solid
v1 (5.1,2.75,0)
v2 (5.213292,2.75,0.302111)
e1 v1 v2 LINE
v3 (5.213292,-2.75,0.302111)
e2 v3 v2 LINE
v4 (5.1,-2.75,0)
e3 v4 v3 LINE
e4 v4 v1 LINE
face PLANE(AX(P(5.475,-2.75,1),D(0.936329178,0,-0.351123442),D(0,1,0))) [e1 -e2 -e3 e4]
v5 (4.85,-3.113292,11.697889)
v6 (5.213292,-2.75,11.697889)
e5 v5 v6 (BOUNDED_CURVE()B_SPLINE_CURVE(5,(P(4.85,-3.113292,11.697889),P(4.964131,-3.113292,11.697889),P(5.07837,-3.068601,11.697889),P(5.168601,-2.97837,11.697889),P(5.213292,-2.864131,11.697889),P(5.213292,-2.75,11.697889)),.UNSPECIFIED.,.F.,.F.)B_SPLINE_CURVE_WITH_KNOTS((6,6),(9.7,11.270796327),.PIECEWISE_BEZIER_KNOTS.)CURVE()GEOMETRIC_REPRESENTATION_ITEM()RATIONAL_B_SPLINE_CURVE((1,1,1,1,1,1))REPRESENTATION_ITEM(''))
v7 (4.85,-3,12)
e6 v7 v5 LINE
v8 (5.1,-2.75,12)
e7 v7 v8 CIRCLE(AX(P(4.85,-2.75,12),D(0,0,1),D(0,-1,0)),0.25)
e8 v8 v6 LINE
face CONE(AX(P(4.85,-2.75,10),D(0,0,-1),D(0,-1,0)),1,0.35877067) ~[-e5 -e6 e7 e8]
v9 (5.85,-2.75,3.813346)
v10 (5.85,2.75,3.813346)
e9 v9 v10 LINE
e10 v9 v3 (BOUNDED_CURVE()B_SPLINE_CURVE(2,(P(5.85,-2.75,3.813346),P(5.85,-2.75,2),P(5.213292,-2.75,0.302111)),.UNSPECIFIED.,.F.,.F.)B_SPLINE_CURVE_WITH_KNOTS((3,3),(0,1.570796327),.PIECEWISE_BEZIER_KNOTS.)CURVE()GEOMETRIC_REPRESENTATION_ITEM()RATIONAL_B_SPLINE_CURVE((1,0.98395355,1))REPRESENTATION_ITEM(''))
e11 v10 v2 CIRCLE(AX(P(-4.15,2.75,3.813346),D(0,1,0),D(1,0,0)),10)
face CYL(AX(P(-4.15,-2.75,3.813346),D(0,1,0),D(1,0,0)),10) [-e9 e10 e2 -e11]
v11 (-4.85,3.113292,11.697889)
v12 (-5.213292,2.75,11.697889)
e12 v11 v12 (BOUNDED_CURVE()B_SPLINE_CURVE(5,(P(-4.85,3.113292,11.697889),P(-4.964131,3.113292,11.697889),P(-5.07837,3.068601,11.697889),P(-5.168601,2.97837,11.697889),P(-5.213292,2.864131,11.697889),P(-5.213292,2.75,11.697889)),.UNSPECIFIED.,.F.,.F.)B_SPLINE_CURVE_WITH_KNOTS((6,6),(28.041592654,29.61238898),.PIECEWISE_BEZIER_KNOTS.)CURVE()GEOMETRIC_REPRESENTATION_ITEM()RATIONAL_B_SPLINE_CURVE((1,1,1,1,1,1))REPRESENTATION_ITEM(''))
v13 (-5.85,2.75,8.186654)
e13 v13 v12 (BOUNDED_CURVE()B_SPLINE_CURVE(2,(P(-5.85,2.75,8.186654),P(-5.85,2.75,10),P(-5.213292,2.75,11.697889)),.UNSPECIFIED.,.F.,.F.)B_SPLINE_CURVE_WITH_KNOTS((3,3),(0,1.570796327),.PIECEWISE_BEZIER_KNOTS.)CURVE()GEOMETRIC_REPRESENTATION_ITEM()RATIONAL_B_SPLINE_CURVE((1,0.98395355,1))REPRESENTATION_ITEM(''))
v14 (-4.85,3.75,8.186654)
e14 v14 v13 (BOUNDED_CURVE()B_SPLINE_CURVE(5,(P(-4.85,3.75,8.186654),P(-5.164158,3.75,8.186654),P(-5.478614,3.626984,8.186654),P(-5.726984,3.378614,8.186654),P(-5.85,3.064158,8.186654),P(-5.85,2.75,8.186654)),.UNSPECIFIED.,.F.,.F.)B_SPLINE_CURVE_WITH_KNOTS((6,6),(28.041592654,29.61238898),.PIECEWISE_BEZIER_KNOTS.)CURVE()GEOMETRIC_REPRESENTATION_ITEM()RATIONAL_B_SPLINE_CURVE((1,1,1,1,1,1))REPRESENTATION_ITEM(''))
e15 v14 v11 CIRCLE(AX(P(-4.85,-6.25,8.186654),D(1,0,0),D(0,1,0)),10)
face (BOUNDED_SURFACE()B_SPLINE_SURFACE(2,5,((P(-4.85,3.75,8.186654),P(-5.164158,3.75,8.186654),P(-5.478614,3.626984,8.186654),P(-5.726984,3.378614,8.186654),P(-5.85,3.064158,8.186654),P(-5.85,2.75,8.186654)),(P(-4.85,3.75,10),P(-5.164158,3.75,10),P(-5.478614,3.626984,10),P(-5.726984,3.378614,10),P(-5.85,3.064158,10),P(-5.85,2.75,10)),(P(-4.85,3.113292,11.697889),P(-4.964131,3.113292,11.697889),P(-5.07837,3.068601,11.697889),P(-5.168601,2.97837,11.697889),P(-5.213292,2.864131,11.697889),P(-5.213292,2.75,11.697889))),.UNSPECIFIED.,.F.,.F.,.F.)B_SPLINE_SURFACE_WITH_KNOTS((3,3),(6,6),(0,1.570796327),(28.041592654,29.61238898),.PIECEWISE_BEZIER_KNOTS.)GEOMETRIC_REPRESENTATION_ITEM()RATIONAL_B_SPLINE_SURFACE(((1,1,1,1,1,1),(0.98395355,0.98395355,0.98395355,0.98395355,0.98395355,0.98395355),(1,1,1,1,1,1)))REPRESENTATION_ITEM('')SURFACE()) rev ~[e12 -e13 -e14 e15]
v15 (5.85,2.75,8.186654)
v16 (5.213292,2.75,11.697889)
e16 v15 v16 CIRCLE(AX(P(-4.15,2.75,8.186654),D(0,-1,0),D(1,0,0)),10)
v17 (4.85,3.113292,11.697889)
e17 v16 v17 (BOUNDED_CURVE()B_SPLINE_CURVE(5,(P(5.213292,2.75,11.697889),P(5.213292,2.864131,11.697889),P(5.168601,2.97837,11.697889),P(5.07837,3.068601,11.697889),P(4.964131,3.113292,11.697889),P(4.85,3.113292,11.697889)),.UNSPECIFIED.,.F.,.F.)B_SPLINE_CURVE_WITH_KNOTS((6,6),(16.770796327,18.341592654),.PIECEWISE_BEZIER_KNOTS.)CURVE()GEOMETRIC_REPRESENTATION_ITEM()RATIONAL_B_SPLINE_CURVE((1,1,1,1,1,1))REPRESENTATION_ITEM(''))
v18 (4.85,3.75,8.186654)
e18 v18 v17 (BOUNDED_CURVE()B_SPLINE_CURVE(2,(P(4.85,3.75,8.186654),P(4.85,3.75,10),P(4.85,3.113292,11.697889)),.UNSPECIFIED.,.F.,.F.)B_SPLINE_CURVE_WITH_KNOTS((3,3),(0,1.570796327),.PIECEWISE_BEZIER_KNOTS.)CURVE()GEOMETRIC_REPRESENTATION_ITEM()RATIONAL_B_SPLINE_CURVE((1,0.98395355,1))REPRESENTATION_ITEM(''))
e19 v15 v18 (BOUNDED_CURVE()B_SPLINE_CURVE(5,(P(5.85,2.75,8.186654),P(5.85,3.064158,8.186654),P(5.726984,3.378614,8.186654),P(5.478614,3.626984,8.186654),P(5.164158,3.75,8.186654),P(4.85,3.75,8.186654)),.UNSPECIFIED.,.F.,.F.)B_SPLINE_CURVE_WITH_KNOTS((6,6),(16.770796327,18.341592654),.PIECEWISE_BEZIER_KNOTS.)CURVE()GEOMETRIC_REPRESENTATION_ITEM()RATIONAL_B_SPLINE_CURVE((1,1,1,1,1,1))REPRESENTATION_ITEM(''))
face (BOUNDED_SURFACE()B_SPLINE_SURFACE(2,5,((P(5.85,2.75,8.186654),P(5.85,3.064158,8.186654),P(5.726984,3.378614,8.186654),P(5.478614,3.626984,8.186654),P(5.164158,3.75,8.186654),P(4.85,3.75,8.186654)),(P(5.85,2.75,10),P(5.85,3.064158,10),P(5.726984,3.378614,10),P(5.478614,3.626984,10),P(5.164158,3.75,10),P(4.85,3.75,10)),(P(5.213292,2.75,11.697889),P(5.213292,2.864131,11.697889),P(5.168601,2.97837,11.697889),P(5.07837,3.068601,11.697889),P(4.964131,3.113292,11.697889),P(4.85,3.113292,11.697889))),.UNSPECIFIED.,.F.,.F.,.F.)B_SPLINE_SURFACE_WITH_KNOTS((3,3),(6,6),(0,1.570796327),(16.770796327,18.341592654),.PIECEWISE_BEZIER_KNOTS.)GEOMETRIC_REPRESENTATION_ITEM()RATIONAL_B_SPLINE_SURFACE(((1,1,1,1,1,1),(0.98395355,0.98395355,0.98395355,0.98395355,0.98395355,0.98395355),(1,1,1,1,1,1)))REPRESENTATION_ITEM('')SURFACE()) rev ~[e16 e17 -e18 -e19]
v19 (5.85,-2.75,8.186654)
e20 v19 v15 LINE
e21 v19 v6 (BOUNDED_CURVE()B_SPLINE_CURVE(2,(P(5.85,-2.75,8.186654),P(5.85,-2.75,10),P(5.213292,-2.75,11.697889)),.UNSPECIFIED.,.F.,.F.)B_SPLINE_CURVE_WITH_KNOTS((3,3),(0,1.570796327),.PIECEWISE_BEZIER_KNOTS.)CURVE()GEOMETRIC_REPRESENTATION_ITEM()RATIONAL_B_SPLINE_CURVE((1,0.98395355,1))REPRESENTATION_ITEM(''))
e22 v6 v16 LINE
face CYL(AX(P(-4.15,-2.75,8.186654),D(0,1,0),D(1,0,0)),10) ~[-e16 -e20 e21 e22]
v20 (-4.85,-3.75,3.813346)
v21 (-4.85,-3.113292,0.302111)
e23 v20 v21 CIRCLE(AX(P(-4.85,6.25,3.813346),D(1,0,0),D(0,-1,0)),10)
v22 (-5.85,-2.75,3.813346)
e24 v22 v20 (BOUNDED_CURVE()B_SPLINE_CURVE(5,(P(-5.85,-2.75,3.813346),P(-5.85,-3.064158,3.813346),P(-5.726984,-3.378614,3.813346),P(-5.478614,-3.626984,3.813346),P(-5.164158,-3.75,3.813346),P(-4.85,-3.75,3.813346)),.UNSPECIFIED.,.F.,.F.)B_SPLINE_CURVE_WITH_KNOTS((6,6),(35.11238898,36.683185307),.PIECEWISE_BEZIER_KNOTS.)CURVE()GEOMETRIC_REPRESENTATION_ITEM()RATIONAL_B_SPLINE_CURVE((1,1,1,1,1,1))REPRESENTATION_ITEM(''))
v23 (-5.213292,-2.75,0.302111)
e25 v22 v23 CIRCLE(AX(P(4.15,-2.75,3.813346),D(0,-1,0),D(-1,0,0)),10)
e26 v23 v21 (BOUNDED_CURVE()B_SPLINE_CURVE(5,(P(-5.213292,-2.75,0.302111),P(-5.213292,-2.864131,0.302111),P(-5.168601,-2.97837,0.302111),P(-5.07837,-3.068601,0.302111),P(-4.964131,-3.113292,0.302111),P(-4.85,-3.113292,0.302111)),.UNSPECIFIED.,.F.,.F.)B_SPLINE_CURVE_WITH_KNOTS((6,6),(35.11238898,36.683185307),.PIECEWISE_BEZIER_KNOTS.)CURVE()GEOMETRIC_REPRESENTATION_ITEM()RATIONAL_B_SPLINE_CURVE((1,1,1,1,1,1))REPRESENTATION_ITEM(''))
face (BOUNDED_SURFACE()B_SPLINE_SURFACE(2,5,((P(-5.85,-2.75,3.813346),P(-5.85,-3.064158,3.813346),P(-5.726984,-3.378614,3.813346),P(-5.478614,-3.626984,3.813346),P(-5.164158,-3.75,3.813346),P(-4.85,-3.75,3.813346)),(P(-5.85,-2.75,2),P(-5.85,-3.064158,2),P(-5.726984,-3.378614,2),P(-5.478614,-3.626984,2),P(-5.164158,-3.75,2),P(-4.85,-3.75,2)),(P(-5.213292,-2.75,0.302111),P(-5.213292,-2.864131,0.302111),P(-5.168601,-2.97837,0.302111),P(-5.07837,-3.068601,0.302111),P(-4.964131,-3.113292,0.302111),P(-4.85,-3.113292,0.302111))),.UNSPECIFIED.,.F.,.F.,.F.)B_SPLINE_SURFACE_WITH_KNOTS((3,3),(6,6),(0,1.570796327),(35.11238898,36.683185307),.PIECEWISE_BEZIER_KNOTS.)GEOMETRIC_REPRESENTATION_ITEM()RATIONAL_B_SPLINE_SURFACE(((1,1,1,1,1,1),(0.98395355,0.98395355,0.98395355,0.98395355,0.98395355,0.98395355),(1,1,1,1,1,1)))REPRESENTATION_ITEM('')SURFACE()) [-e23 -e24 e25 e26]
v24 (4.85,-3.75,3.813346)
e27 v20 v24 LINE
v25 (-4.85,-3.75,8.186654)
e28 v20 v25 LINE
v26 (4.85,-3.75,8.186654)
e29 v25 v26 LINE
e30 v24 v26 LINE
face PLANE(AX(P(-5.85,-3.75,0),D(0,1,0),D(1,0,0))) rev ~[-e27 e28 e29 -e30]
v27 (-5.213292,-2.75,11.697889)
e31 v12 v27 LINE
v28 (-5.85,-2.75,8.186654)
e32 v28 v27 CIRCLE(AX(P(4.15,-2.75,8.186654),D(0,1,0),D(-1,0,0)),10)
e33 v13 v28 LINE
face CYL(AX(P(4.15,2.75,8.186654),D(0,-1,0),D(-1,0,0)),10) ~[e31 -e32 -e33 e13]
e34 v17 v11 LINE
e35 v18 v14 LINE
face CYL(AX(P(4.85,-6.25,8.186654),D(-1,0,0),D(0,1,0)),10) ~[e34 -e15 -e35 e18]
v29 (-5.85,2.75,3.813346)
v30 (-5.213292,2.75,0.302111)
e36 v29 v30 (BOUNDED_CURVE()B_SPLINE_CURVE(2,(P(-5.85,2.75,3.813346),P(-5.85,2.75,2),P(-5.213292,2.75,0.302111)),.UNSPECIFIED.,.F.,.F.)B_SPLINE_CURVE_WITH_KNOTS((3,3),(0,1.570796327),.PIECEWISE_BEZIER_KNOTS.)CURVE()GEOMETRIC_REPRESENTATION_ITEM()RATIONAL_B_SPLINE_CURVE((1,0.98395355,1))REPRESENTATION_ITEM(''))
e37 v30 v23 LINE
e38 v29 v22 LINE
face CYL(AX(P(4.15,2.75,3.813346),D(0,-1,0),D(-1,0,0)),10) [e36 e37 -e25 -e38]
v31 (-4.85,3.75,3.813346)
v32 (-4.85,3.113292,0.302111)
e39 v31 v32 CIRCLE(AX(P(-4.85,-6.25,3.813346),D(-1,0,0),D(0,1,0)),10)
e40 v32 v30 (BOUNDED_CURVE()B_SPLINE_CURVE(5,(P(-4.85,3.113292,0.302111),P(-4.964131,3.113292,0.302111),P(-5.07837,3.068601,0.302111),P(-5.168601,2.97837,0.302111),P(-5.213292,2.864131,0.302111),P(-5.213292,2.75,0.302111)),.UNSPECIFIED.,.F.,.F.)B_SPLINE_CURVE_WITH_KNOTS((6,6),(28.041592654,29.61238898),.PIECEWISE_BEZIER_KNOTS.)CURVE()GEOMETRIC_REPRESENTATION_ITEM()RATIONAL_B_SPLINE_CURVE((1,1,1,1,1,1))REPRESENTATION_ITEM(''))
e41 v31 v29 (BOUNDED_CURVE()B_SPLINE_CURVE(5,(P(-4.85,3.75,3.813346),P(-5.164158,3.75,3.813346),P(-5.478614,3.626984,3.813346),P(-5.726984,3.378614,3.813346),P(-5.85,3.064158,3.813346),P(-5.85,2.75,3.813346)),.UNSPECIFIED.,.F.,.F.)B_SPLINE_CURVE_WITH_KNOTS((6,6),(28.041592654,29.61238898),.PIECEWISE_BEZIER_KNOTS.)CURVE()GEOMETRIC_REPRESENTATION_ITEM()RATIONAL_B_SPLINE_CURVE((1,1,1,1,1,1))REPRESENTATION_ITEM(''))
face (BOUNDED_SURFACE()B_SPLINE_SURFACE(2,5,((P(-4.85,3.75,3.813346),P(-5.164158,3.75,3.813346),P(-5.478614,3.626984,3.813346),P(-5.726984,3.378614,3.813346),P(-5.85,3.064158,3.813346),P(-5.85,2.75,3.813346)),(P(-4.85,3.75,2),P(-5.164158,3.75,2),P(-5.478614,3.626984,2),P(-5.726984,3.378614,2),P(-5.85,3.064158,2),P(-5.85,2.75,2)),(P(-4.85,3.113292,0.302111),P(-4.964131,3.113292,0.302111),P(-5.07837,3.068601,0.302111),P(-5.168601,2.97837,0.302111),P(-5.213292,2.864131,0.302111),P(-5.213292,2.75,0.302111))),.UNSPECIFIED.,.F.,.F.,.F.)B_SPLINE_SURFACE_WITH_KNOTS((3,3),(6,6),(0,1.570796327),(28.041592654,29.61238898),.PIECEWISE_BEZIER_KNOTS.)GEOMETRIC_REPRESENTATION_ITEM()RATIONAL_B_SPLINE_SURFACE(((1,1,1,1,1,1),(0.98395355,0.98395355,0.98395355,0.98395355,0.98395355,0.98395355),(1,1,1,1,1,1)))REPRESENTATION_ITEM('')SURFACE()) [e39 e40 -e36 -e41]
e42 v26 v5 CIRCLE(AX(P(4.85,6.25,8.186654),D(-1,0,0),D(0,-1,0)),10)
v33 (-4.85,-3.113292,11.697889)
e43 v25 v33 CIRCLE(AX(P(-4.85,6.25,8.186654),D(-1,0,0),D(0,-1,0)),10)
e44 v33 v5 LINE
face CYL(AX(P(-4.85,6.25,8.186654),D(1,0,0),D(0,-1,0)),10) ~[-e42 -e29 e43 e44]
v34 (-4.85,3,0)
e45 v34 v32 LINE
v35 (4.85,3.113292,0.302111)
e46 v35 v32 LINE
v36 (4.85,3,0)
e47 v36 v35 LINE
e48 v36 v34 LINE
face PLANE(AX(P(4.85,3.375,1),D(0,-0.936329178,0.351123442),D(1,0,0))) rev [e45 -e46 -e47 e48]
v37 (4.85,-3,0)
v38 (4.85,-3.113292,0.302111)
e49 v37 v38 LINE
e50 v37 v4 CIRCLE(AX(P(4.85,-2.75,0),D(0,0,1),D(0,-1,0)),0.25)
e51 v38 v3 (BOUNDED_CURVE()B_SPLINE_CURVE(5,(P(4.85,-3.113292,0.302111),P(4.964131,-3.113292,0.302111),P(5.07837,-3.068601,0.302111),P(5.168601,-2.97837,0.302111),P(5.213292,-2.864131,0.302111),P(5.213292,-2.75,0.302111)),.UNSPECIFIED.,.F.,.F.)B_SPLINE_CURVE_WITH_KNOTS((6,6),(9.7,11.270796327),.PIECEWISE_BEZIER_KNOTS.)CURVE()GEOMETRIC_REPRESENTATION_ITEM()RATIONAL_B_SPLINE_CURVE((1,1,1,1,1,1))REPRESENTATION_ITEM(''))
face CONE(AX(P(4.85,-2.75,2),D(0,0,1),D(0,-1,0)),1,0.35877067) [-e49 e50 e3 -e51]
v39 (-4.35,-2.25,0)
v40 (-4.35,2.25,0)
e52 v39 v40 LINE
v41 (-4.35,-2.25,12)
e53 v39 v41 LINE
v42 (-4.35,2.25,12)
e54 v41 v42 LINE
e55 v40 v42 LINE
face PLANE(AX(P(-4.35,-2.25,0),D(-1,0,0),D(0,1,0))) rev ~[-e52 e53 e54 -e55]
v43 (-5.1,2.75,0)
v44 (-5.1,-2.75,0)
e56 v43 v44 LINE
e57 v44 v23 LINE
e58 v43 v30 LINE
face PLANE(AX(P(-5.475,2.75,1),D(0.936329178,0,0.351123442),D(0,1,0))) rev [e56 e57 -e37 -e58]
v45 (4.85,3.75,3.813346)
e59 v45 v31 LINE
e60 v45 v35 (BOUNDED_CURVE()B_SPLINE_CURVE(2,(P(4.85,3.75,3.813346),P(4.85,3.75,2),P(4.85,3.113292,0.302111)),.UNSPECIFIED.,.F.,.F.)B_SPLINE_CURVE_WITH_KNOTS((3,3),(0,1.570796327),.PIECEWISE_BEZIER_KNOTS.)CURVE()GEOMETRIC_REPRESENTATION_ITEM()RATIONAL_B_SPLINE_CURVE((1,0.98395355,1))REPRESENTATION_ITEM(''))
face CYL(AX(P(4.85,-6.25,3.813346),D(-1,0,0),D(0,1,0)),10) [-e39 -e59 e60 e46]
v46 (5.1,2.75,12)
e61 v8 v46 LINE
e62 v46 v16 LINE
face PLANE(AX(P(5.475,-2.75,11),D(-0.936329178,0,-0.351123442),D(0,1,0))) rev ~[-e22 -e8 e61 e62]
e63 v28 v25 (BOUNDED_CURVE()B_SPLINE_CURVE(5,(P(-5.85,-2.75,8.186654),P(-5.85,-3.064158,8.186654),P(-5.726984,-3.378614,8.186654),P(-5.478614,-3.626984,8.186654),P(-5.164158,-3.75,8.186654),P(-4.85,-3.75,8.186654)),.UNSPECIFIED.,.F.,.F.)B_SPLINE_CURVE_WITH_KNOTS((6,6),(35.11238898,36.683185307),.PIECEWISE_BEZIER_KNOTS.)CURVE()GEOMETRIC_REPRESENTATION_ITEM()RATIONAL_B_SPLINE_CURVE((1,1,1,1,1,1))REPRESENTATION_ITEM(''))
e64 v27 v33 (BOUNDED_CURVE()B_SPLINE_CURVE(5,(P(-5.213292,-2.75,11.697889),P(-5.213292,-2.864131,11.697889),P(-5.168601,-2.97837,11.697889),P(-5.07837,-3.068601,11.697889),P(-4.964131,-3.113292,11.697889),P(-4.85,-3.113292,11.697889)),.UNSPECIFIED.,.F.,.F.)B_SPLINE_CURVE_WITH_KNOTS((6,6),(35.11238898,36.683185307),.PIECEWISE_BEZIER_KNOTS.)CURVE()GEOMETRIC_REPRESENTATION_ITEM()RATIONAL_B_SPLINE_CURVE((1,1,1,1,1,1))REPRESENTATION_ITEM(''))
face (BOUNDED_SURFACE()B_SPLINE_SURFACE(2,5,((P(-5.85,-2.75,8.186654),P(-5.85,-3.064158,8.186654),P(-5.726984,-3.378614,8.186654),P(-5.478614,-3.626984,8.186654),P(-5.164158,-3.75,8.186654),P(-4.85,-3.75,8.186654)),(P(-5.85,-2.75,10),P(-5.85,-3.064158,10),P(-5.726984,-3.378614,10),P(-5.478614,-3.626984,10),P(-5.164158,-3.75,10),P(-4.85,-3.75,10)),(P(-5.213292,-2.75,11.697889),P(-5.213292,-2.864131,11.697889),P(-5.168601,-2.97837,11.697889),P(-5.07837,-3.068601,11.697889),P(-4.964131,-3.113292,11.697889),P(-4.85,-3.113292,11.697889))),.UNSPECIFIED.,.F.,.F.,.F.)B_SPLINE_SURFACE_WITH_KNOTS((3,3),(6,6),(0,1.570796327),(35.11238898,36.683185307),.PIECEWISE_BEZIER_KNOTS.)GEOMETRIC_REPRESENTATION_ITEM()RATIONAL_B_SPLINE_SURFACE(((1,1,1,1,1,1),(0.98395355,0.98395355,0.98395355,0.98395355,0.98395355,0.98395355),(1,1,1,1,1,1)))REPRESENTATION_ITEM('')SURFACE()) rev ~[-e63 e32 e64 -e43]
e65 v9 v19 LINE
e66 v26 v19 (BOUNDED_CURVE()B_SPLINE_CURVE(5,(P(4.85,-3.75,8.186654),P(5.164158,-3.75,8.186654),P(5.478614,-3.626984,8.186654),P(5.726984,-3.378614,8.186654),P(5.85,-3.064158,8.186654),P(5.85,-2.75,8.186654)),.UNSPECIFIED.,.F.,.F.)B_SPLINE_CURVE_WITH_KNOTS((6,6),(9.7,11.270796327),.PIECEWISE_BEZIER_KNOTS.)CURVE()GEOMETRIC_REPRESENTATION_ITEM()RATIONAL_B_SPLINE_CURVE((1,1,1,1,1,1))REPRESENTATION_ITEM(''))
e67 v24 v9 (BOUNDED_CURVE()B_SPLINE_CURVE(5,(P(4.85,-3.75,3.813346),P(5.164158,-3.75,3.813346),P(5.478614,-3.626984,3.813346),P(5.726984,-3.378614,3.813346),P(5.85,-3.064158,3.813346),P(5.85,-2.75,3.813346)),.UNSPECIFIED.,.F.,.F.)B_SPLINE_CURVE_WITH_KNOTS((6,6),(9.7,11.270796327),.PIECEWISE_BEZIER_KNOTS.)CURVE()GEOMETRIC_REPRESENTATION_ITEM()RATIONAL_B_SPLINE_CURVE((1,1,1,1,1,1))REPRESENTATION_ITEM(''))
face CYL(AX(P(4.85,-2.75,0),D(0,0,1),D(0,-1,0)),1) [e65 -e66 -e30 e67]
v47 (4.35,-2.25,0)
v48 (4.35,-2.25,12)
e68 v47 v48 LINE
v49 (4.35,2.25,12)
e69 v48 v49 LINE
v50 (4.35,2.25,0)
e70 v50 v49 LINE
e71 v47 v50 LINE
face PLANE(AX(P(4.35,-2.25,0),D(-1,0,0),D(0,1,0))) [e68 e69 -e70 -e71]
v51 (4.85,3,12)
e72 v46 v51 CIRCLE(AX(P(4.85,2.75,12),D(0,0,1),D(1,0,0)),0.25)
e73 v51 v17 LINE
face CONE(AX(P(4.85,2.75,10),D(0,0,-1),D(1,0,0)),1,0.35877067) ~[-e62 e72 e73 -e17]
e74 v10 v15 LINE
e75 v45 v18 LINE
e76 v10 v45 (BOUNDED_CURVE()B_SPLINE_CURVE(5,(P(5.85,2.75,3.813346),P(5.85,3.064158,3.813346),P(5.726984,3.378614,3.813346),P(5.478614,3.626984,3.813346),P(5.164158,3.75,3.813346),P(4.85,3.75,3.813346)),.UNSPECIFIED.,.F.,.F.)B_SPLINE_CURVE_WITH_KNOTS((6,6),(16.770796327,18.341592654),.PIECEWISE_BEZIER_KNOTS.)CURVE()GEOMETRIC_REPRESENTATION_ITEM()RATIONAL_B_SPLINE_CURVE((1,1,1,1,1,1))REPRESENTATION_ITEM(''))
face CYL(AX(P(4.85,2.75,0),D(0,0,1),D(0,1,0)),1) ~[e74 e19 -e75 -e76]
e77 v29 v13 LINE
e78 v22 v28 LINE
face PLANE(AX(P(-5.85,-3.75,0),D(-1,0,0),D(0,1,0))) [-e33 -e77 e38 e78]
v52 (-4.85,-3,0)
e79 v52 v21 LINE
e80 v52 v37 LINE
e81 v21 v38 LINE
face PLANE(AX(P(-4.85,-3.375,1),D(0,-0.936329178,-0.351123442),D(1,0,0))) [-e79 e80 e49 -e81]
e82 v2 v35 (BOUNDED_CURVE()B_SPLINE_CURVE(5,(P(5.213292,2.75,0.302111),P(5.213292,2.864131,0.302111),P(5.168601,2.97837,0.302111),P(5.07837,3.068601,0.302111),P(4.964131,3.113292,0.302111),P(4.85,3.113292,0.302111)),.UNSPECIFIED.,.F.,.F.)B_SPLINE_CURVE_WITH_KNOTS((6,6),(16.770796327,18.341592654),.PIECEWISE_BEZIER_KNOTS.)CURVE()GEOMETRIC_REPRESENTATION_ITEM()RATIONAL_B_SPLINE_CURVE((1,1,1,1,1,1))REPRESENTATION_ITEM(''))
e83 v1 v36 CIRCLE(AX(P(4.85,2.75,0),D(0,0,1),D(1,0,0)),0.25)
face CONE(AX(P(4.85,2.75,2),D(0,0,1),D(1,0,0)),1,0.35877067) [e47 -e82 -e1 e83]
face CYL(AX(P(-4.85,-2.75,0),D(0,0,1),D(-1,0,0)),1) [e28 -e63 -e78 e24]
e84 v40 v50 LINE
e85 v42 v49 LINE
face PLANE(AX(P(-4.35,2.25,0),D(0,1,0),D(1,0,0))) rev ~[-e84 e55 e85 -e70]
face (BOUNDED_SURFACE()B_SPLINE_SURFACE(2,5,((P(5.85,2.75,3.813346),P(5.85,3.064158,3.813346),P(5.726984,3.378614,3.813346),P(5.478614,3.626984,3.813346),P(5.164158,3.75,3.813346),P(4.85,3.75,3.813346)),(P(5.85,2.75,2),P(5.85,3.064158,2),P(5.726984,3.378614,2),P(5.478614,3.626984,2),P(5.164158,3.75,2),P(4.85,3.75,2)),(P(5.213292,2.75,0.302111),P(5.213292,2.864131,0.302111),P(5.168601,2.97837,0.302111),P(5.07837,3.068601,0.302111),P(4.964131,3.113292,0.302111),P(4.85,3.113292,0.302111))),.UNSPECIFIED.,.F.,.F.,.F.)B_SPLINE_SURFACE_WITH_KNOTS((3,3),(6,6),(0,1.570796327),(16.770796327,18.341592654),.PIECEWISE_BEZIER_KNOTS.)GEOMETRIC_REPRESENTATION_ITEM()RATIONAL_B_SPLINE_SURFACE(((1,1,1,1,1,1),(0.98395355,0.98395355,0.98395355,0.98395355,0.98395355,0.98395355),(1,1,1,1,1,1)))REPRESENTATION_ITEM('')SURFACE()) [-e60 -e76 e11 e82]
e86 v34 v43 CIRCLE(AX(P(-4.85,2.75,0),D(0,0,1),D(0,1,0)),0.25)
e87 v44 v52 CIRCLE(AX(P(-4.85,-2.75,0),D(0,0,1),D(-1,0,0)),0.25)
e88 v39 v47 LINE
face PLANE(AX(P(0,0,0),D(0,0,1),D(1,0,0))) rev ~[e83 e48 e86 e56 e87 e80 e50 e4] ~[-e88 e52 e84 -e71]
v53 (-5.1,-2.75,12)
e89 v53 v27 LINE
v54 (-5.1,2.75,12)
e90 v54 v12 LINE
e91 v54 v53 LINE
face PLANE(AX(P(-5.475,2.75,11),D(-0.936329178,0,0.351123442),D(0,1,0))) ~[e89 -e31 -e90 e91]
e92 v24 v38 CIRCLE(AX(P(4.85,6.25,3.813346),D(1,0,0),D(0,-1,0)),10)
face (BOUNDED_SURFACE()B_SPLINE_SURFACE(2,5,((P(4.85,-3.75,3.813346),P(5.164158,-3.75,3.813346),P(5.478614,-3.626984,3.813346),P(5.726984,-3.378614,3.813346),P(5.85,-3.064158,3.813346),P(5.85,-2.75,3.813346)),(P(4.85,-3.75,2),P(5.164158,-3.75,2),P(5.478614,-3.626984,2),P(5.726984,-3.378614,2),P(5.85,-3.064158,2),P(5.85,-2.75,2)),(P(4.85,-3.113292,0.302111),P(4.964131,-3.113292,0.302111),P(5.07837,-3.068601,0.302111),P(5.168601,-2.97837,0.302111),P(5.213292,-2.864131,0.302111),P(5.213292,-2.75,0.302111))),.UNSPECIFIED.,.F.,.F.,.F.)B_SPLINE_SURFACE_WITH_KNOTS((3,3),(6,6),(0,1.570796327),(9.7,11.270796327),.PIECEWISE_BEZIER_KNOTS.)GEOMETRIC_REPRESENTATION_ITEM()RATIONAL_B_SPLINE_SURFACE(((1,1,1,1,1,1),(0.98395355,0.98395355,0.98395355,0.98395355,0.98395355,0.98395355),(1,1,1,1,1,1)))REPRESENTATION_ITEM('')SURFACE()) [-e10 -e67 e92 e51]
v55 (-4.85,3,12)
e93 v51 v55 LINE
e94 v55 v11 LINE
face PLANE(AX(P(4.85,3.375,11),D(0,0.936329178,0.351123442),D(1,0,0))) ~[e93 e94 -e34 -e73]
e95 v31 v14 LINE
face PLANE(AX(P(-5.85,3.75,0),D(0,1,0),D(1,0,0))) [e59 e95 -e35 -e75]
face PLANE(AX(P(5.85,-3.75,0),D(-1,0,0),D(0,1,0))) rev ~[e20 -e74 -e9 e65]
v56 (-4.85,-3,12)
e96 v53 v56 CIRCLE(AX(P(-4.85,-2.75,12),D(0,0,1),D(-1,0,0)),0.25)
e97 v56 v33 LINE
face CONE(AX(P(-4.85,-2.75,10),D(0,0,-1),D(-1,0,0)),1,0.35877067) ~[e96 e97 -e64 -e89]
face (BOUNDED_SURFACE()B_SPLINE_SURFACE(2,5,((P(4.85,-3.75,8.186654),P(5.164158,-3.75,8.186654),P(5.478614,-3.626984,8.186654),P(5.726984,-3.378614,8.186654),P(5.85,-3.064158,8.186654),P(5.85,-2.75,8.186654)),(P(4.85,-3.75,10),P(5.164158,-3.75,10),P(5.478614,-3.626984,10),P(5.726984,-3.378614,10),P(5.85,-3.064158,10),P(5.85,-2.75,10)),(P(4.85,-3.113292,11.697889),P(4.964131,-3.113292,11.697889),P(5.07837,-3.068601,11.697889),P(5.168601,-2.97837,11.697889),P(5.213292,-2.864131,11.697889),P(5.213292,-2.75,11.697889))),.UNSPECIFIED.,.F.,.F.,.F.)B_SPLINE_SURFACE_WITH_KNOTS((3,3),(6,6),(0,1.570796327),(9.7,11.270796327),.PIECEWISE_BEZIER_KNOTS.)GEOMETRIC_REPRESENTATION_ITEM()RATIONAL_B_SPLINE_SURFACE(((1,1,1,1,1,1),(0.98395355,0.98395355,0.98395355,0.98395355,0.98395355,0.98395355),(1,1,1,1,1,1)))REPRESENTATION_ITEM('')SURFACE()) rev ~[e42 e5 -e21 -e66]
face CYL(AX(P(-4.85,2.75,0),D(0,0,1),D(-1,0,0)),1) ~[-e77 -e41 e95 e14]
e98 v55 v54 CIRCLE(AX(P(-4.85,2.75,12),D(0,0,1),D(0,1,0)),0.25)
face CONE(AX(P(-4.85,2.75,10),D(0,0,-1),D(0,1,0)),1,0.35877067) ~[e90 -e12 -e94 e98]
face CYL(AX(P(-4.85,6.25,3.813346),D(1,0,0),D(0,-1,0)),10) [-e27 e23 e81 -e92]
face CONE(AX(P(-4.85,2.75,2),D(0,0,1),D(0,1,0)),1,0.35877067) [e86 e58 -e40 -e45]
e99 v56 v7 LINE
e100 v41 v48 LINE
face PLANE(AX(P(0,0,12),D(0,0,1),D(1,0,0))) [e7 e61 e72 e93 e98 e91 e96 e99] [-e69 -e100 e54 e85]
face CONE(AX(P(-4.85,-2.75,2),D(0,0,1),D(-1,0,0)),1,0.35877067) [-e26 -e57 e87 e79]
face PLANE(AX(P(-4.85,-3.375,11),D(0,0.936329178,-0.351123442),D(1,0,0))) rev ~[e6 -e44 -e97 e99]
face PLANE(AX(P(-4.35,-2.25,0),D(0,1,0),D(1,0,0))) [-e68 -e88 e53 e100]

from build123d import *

# Parameters (mm, degrees)
F0_W       = 11.7
F0_H       = 7.5
F0_W_2     = 8.7
F0_H_2     = 4.5
F1_DEPTH   = 12
F2_R       = 1
F3_SIZE2   = 2
F3_SIZE    = 0.75
F3_2_SIZE2 = 2
F3_2_SIZE  = 0.75
F4_R       = 10


with BuildPart() as f1:
    # F0 (on Top) → F1 (new body)
    with BuildSketch(Plane.XY):
        Rectangle(F0_W, F0_H)
        Rectangle(F0_W_2, F0_H_2, mode=Mode.SUBTRACT)
    extrude(amount=F1_DEPTH)

    # F2
    f2_edges = [f1.edges().sort_by_distance(p)[0] for p in [
        (5.85, -3.75, 6),
        (-5.85, -3.75, 6),
        (-5.85, 3.75, 6),
        (5.85, 3.75, 6),
    ]]
    fillet(f2_edges, radius=F2_R)

    # F3
    f3_edges = [f1.edges().sort_by_distance(p)[0] for p in [
        (0, -3.75, 12),
    ]]
    f3_side = f1.faces().sort_by_distance((0, -3.611025, 12))[0]
    chamfer(f3_edges, length=F3_SIZE, length2=F3_SIZE2, reference=f3_side)

    # F3#2
    f3_2_edges = [f1.edges().sort_by_distance(p)[0] for p in [
        (0, -3.75, 0),
    ]]
    f3_2_side = f1.faces().sort_by_distance((0, -3.611025, 0))[0]
    chamfer(f3_2_edges, length=F3_2_SIZE, length2=F3_2_SIZE2, reference=f3_2_side)

    # F4
    f4_edges = [f1.edges().sort_by_distance(p)[0] for p in [
        (0, -3.75, 2),
        (0, -3.75, 10),
    ]]
    fillet(f4_edges, radius=F4_R)


solid = f1.part
